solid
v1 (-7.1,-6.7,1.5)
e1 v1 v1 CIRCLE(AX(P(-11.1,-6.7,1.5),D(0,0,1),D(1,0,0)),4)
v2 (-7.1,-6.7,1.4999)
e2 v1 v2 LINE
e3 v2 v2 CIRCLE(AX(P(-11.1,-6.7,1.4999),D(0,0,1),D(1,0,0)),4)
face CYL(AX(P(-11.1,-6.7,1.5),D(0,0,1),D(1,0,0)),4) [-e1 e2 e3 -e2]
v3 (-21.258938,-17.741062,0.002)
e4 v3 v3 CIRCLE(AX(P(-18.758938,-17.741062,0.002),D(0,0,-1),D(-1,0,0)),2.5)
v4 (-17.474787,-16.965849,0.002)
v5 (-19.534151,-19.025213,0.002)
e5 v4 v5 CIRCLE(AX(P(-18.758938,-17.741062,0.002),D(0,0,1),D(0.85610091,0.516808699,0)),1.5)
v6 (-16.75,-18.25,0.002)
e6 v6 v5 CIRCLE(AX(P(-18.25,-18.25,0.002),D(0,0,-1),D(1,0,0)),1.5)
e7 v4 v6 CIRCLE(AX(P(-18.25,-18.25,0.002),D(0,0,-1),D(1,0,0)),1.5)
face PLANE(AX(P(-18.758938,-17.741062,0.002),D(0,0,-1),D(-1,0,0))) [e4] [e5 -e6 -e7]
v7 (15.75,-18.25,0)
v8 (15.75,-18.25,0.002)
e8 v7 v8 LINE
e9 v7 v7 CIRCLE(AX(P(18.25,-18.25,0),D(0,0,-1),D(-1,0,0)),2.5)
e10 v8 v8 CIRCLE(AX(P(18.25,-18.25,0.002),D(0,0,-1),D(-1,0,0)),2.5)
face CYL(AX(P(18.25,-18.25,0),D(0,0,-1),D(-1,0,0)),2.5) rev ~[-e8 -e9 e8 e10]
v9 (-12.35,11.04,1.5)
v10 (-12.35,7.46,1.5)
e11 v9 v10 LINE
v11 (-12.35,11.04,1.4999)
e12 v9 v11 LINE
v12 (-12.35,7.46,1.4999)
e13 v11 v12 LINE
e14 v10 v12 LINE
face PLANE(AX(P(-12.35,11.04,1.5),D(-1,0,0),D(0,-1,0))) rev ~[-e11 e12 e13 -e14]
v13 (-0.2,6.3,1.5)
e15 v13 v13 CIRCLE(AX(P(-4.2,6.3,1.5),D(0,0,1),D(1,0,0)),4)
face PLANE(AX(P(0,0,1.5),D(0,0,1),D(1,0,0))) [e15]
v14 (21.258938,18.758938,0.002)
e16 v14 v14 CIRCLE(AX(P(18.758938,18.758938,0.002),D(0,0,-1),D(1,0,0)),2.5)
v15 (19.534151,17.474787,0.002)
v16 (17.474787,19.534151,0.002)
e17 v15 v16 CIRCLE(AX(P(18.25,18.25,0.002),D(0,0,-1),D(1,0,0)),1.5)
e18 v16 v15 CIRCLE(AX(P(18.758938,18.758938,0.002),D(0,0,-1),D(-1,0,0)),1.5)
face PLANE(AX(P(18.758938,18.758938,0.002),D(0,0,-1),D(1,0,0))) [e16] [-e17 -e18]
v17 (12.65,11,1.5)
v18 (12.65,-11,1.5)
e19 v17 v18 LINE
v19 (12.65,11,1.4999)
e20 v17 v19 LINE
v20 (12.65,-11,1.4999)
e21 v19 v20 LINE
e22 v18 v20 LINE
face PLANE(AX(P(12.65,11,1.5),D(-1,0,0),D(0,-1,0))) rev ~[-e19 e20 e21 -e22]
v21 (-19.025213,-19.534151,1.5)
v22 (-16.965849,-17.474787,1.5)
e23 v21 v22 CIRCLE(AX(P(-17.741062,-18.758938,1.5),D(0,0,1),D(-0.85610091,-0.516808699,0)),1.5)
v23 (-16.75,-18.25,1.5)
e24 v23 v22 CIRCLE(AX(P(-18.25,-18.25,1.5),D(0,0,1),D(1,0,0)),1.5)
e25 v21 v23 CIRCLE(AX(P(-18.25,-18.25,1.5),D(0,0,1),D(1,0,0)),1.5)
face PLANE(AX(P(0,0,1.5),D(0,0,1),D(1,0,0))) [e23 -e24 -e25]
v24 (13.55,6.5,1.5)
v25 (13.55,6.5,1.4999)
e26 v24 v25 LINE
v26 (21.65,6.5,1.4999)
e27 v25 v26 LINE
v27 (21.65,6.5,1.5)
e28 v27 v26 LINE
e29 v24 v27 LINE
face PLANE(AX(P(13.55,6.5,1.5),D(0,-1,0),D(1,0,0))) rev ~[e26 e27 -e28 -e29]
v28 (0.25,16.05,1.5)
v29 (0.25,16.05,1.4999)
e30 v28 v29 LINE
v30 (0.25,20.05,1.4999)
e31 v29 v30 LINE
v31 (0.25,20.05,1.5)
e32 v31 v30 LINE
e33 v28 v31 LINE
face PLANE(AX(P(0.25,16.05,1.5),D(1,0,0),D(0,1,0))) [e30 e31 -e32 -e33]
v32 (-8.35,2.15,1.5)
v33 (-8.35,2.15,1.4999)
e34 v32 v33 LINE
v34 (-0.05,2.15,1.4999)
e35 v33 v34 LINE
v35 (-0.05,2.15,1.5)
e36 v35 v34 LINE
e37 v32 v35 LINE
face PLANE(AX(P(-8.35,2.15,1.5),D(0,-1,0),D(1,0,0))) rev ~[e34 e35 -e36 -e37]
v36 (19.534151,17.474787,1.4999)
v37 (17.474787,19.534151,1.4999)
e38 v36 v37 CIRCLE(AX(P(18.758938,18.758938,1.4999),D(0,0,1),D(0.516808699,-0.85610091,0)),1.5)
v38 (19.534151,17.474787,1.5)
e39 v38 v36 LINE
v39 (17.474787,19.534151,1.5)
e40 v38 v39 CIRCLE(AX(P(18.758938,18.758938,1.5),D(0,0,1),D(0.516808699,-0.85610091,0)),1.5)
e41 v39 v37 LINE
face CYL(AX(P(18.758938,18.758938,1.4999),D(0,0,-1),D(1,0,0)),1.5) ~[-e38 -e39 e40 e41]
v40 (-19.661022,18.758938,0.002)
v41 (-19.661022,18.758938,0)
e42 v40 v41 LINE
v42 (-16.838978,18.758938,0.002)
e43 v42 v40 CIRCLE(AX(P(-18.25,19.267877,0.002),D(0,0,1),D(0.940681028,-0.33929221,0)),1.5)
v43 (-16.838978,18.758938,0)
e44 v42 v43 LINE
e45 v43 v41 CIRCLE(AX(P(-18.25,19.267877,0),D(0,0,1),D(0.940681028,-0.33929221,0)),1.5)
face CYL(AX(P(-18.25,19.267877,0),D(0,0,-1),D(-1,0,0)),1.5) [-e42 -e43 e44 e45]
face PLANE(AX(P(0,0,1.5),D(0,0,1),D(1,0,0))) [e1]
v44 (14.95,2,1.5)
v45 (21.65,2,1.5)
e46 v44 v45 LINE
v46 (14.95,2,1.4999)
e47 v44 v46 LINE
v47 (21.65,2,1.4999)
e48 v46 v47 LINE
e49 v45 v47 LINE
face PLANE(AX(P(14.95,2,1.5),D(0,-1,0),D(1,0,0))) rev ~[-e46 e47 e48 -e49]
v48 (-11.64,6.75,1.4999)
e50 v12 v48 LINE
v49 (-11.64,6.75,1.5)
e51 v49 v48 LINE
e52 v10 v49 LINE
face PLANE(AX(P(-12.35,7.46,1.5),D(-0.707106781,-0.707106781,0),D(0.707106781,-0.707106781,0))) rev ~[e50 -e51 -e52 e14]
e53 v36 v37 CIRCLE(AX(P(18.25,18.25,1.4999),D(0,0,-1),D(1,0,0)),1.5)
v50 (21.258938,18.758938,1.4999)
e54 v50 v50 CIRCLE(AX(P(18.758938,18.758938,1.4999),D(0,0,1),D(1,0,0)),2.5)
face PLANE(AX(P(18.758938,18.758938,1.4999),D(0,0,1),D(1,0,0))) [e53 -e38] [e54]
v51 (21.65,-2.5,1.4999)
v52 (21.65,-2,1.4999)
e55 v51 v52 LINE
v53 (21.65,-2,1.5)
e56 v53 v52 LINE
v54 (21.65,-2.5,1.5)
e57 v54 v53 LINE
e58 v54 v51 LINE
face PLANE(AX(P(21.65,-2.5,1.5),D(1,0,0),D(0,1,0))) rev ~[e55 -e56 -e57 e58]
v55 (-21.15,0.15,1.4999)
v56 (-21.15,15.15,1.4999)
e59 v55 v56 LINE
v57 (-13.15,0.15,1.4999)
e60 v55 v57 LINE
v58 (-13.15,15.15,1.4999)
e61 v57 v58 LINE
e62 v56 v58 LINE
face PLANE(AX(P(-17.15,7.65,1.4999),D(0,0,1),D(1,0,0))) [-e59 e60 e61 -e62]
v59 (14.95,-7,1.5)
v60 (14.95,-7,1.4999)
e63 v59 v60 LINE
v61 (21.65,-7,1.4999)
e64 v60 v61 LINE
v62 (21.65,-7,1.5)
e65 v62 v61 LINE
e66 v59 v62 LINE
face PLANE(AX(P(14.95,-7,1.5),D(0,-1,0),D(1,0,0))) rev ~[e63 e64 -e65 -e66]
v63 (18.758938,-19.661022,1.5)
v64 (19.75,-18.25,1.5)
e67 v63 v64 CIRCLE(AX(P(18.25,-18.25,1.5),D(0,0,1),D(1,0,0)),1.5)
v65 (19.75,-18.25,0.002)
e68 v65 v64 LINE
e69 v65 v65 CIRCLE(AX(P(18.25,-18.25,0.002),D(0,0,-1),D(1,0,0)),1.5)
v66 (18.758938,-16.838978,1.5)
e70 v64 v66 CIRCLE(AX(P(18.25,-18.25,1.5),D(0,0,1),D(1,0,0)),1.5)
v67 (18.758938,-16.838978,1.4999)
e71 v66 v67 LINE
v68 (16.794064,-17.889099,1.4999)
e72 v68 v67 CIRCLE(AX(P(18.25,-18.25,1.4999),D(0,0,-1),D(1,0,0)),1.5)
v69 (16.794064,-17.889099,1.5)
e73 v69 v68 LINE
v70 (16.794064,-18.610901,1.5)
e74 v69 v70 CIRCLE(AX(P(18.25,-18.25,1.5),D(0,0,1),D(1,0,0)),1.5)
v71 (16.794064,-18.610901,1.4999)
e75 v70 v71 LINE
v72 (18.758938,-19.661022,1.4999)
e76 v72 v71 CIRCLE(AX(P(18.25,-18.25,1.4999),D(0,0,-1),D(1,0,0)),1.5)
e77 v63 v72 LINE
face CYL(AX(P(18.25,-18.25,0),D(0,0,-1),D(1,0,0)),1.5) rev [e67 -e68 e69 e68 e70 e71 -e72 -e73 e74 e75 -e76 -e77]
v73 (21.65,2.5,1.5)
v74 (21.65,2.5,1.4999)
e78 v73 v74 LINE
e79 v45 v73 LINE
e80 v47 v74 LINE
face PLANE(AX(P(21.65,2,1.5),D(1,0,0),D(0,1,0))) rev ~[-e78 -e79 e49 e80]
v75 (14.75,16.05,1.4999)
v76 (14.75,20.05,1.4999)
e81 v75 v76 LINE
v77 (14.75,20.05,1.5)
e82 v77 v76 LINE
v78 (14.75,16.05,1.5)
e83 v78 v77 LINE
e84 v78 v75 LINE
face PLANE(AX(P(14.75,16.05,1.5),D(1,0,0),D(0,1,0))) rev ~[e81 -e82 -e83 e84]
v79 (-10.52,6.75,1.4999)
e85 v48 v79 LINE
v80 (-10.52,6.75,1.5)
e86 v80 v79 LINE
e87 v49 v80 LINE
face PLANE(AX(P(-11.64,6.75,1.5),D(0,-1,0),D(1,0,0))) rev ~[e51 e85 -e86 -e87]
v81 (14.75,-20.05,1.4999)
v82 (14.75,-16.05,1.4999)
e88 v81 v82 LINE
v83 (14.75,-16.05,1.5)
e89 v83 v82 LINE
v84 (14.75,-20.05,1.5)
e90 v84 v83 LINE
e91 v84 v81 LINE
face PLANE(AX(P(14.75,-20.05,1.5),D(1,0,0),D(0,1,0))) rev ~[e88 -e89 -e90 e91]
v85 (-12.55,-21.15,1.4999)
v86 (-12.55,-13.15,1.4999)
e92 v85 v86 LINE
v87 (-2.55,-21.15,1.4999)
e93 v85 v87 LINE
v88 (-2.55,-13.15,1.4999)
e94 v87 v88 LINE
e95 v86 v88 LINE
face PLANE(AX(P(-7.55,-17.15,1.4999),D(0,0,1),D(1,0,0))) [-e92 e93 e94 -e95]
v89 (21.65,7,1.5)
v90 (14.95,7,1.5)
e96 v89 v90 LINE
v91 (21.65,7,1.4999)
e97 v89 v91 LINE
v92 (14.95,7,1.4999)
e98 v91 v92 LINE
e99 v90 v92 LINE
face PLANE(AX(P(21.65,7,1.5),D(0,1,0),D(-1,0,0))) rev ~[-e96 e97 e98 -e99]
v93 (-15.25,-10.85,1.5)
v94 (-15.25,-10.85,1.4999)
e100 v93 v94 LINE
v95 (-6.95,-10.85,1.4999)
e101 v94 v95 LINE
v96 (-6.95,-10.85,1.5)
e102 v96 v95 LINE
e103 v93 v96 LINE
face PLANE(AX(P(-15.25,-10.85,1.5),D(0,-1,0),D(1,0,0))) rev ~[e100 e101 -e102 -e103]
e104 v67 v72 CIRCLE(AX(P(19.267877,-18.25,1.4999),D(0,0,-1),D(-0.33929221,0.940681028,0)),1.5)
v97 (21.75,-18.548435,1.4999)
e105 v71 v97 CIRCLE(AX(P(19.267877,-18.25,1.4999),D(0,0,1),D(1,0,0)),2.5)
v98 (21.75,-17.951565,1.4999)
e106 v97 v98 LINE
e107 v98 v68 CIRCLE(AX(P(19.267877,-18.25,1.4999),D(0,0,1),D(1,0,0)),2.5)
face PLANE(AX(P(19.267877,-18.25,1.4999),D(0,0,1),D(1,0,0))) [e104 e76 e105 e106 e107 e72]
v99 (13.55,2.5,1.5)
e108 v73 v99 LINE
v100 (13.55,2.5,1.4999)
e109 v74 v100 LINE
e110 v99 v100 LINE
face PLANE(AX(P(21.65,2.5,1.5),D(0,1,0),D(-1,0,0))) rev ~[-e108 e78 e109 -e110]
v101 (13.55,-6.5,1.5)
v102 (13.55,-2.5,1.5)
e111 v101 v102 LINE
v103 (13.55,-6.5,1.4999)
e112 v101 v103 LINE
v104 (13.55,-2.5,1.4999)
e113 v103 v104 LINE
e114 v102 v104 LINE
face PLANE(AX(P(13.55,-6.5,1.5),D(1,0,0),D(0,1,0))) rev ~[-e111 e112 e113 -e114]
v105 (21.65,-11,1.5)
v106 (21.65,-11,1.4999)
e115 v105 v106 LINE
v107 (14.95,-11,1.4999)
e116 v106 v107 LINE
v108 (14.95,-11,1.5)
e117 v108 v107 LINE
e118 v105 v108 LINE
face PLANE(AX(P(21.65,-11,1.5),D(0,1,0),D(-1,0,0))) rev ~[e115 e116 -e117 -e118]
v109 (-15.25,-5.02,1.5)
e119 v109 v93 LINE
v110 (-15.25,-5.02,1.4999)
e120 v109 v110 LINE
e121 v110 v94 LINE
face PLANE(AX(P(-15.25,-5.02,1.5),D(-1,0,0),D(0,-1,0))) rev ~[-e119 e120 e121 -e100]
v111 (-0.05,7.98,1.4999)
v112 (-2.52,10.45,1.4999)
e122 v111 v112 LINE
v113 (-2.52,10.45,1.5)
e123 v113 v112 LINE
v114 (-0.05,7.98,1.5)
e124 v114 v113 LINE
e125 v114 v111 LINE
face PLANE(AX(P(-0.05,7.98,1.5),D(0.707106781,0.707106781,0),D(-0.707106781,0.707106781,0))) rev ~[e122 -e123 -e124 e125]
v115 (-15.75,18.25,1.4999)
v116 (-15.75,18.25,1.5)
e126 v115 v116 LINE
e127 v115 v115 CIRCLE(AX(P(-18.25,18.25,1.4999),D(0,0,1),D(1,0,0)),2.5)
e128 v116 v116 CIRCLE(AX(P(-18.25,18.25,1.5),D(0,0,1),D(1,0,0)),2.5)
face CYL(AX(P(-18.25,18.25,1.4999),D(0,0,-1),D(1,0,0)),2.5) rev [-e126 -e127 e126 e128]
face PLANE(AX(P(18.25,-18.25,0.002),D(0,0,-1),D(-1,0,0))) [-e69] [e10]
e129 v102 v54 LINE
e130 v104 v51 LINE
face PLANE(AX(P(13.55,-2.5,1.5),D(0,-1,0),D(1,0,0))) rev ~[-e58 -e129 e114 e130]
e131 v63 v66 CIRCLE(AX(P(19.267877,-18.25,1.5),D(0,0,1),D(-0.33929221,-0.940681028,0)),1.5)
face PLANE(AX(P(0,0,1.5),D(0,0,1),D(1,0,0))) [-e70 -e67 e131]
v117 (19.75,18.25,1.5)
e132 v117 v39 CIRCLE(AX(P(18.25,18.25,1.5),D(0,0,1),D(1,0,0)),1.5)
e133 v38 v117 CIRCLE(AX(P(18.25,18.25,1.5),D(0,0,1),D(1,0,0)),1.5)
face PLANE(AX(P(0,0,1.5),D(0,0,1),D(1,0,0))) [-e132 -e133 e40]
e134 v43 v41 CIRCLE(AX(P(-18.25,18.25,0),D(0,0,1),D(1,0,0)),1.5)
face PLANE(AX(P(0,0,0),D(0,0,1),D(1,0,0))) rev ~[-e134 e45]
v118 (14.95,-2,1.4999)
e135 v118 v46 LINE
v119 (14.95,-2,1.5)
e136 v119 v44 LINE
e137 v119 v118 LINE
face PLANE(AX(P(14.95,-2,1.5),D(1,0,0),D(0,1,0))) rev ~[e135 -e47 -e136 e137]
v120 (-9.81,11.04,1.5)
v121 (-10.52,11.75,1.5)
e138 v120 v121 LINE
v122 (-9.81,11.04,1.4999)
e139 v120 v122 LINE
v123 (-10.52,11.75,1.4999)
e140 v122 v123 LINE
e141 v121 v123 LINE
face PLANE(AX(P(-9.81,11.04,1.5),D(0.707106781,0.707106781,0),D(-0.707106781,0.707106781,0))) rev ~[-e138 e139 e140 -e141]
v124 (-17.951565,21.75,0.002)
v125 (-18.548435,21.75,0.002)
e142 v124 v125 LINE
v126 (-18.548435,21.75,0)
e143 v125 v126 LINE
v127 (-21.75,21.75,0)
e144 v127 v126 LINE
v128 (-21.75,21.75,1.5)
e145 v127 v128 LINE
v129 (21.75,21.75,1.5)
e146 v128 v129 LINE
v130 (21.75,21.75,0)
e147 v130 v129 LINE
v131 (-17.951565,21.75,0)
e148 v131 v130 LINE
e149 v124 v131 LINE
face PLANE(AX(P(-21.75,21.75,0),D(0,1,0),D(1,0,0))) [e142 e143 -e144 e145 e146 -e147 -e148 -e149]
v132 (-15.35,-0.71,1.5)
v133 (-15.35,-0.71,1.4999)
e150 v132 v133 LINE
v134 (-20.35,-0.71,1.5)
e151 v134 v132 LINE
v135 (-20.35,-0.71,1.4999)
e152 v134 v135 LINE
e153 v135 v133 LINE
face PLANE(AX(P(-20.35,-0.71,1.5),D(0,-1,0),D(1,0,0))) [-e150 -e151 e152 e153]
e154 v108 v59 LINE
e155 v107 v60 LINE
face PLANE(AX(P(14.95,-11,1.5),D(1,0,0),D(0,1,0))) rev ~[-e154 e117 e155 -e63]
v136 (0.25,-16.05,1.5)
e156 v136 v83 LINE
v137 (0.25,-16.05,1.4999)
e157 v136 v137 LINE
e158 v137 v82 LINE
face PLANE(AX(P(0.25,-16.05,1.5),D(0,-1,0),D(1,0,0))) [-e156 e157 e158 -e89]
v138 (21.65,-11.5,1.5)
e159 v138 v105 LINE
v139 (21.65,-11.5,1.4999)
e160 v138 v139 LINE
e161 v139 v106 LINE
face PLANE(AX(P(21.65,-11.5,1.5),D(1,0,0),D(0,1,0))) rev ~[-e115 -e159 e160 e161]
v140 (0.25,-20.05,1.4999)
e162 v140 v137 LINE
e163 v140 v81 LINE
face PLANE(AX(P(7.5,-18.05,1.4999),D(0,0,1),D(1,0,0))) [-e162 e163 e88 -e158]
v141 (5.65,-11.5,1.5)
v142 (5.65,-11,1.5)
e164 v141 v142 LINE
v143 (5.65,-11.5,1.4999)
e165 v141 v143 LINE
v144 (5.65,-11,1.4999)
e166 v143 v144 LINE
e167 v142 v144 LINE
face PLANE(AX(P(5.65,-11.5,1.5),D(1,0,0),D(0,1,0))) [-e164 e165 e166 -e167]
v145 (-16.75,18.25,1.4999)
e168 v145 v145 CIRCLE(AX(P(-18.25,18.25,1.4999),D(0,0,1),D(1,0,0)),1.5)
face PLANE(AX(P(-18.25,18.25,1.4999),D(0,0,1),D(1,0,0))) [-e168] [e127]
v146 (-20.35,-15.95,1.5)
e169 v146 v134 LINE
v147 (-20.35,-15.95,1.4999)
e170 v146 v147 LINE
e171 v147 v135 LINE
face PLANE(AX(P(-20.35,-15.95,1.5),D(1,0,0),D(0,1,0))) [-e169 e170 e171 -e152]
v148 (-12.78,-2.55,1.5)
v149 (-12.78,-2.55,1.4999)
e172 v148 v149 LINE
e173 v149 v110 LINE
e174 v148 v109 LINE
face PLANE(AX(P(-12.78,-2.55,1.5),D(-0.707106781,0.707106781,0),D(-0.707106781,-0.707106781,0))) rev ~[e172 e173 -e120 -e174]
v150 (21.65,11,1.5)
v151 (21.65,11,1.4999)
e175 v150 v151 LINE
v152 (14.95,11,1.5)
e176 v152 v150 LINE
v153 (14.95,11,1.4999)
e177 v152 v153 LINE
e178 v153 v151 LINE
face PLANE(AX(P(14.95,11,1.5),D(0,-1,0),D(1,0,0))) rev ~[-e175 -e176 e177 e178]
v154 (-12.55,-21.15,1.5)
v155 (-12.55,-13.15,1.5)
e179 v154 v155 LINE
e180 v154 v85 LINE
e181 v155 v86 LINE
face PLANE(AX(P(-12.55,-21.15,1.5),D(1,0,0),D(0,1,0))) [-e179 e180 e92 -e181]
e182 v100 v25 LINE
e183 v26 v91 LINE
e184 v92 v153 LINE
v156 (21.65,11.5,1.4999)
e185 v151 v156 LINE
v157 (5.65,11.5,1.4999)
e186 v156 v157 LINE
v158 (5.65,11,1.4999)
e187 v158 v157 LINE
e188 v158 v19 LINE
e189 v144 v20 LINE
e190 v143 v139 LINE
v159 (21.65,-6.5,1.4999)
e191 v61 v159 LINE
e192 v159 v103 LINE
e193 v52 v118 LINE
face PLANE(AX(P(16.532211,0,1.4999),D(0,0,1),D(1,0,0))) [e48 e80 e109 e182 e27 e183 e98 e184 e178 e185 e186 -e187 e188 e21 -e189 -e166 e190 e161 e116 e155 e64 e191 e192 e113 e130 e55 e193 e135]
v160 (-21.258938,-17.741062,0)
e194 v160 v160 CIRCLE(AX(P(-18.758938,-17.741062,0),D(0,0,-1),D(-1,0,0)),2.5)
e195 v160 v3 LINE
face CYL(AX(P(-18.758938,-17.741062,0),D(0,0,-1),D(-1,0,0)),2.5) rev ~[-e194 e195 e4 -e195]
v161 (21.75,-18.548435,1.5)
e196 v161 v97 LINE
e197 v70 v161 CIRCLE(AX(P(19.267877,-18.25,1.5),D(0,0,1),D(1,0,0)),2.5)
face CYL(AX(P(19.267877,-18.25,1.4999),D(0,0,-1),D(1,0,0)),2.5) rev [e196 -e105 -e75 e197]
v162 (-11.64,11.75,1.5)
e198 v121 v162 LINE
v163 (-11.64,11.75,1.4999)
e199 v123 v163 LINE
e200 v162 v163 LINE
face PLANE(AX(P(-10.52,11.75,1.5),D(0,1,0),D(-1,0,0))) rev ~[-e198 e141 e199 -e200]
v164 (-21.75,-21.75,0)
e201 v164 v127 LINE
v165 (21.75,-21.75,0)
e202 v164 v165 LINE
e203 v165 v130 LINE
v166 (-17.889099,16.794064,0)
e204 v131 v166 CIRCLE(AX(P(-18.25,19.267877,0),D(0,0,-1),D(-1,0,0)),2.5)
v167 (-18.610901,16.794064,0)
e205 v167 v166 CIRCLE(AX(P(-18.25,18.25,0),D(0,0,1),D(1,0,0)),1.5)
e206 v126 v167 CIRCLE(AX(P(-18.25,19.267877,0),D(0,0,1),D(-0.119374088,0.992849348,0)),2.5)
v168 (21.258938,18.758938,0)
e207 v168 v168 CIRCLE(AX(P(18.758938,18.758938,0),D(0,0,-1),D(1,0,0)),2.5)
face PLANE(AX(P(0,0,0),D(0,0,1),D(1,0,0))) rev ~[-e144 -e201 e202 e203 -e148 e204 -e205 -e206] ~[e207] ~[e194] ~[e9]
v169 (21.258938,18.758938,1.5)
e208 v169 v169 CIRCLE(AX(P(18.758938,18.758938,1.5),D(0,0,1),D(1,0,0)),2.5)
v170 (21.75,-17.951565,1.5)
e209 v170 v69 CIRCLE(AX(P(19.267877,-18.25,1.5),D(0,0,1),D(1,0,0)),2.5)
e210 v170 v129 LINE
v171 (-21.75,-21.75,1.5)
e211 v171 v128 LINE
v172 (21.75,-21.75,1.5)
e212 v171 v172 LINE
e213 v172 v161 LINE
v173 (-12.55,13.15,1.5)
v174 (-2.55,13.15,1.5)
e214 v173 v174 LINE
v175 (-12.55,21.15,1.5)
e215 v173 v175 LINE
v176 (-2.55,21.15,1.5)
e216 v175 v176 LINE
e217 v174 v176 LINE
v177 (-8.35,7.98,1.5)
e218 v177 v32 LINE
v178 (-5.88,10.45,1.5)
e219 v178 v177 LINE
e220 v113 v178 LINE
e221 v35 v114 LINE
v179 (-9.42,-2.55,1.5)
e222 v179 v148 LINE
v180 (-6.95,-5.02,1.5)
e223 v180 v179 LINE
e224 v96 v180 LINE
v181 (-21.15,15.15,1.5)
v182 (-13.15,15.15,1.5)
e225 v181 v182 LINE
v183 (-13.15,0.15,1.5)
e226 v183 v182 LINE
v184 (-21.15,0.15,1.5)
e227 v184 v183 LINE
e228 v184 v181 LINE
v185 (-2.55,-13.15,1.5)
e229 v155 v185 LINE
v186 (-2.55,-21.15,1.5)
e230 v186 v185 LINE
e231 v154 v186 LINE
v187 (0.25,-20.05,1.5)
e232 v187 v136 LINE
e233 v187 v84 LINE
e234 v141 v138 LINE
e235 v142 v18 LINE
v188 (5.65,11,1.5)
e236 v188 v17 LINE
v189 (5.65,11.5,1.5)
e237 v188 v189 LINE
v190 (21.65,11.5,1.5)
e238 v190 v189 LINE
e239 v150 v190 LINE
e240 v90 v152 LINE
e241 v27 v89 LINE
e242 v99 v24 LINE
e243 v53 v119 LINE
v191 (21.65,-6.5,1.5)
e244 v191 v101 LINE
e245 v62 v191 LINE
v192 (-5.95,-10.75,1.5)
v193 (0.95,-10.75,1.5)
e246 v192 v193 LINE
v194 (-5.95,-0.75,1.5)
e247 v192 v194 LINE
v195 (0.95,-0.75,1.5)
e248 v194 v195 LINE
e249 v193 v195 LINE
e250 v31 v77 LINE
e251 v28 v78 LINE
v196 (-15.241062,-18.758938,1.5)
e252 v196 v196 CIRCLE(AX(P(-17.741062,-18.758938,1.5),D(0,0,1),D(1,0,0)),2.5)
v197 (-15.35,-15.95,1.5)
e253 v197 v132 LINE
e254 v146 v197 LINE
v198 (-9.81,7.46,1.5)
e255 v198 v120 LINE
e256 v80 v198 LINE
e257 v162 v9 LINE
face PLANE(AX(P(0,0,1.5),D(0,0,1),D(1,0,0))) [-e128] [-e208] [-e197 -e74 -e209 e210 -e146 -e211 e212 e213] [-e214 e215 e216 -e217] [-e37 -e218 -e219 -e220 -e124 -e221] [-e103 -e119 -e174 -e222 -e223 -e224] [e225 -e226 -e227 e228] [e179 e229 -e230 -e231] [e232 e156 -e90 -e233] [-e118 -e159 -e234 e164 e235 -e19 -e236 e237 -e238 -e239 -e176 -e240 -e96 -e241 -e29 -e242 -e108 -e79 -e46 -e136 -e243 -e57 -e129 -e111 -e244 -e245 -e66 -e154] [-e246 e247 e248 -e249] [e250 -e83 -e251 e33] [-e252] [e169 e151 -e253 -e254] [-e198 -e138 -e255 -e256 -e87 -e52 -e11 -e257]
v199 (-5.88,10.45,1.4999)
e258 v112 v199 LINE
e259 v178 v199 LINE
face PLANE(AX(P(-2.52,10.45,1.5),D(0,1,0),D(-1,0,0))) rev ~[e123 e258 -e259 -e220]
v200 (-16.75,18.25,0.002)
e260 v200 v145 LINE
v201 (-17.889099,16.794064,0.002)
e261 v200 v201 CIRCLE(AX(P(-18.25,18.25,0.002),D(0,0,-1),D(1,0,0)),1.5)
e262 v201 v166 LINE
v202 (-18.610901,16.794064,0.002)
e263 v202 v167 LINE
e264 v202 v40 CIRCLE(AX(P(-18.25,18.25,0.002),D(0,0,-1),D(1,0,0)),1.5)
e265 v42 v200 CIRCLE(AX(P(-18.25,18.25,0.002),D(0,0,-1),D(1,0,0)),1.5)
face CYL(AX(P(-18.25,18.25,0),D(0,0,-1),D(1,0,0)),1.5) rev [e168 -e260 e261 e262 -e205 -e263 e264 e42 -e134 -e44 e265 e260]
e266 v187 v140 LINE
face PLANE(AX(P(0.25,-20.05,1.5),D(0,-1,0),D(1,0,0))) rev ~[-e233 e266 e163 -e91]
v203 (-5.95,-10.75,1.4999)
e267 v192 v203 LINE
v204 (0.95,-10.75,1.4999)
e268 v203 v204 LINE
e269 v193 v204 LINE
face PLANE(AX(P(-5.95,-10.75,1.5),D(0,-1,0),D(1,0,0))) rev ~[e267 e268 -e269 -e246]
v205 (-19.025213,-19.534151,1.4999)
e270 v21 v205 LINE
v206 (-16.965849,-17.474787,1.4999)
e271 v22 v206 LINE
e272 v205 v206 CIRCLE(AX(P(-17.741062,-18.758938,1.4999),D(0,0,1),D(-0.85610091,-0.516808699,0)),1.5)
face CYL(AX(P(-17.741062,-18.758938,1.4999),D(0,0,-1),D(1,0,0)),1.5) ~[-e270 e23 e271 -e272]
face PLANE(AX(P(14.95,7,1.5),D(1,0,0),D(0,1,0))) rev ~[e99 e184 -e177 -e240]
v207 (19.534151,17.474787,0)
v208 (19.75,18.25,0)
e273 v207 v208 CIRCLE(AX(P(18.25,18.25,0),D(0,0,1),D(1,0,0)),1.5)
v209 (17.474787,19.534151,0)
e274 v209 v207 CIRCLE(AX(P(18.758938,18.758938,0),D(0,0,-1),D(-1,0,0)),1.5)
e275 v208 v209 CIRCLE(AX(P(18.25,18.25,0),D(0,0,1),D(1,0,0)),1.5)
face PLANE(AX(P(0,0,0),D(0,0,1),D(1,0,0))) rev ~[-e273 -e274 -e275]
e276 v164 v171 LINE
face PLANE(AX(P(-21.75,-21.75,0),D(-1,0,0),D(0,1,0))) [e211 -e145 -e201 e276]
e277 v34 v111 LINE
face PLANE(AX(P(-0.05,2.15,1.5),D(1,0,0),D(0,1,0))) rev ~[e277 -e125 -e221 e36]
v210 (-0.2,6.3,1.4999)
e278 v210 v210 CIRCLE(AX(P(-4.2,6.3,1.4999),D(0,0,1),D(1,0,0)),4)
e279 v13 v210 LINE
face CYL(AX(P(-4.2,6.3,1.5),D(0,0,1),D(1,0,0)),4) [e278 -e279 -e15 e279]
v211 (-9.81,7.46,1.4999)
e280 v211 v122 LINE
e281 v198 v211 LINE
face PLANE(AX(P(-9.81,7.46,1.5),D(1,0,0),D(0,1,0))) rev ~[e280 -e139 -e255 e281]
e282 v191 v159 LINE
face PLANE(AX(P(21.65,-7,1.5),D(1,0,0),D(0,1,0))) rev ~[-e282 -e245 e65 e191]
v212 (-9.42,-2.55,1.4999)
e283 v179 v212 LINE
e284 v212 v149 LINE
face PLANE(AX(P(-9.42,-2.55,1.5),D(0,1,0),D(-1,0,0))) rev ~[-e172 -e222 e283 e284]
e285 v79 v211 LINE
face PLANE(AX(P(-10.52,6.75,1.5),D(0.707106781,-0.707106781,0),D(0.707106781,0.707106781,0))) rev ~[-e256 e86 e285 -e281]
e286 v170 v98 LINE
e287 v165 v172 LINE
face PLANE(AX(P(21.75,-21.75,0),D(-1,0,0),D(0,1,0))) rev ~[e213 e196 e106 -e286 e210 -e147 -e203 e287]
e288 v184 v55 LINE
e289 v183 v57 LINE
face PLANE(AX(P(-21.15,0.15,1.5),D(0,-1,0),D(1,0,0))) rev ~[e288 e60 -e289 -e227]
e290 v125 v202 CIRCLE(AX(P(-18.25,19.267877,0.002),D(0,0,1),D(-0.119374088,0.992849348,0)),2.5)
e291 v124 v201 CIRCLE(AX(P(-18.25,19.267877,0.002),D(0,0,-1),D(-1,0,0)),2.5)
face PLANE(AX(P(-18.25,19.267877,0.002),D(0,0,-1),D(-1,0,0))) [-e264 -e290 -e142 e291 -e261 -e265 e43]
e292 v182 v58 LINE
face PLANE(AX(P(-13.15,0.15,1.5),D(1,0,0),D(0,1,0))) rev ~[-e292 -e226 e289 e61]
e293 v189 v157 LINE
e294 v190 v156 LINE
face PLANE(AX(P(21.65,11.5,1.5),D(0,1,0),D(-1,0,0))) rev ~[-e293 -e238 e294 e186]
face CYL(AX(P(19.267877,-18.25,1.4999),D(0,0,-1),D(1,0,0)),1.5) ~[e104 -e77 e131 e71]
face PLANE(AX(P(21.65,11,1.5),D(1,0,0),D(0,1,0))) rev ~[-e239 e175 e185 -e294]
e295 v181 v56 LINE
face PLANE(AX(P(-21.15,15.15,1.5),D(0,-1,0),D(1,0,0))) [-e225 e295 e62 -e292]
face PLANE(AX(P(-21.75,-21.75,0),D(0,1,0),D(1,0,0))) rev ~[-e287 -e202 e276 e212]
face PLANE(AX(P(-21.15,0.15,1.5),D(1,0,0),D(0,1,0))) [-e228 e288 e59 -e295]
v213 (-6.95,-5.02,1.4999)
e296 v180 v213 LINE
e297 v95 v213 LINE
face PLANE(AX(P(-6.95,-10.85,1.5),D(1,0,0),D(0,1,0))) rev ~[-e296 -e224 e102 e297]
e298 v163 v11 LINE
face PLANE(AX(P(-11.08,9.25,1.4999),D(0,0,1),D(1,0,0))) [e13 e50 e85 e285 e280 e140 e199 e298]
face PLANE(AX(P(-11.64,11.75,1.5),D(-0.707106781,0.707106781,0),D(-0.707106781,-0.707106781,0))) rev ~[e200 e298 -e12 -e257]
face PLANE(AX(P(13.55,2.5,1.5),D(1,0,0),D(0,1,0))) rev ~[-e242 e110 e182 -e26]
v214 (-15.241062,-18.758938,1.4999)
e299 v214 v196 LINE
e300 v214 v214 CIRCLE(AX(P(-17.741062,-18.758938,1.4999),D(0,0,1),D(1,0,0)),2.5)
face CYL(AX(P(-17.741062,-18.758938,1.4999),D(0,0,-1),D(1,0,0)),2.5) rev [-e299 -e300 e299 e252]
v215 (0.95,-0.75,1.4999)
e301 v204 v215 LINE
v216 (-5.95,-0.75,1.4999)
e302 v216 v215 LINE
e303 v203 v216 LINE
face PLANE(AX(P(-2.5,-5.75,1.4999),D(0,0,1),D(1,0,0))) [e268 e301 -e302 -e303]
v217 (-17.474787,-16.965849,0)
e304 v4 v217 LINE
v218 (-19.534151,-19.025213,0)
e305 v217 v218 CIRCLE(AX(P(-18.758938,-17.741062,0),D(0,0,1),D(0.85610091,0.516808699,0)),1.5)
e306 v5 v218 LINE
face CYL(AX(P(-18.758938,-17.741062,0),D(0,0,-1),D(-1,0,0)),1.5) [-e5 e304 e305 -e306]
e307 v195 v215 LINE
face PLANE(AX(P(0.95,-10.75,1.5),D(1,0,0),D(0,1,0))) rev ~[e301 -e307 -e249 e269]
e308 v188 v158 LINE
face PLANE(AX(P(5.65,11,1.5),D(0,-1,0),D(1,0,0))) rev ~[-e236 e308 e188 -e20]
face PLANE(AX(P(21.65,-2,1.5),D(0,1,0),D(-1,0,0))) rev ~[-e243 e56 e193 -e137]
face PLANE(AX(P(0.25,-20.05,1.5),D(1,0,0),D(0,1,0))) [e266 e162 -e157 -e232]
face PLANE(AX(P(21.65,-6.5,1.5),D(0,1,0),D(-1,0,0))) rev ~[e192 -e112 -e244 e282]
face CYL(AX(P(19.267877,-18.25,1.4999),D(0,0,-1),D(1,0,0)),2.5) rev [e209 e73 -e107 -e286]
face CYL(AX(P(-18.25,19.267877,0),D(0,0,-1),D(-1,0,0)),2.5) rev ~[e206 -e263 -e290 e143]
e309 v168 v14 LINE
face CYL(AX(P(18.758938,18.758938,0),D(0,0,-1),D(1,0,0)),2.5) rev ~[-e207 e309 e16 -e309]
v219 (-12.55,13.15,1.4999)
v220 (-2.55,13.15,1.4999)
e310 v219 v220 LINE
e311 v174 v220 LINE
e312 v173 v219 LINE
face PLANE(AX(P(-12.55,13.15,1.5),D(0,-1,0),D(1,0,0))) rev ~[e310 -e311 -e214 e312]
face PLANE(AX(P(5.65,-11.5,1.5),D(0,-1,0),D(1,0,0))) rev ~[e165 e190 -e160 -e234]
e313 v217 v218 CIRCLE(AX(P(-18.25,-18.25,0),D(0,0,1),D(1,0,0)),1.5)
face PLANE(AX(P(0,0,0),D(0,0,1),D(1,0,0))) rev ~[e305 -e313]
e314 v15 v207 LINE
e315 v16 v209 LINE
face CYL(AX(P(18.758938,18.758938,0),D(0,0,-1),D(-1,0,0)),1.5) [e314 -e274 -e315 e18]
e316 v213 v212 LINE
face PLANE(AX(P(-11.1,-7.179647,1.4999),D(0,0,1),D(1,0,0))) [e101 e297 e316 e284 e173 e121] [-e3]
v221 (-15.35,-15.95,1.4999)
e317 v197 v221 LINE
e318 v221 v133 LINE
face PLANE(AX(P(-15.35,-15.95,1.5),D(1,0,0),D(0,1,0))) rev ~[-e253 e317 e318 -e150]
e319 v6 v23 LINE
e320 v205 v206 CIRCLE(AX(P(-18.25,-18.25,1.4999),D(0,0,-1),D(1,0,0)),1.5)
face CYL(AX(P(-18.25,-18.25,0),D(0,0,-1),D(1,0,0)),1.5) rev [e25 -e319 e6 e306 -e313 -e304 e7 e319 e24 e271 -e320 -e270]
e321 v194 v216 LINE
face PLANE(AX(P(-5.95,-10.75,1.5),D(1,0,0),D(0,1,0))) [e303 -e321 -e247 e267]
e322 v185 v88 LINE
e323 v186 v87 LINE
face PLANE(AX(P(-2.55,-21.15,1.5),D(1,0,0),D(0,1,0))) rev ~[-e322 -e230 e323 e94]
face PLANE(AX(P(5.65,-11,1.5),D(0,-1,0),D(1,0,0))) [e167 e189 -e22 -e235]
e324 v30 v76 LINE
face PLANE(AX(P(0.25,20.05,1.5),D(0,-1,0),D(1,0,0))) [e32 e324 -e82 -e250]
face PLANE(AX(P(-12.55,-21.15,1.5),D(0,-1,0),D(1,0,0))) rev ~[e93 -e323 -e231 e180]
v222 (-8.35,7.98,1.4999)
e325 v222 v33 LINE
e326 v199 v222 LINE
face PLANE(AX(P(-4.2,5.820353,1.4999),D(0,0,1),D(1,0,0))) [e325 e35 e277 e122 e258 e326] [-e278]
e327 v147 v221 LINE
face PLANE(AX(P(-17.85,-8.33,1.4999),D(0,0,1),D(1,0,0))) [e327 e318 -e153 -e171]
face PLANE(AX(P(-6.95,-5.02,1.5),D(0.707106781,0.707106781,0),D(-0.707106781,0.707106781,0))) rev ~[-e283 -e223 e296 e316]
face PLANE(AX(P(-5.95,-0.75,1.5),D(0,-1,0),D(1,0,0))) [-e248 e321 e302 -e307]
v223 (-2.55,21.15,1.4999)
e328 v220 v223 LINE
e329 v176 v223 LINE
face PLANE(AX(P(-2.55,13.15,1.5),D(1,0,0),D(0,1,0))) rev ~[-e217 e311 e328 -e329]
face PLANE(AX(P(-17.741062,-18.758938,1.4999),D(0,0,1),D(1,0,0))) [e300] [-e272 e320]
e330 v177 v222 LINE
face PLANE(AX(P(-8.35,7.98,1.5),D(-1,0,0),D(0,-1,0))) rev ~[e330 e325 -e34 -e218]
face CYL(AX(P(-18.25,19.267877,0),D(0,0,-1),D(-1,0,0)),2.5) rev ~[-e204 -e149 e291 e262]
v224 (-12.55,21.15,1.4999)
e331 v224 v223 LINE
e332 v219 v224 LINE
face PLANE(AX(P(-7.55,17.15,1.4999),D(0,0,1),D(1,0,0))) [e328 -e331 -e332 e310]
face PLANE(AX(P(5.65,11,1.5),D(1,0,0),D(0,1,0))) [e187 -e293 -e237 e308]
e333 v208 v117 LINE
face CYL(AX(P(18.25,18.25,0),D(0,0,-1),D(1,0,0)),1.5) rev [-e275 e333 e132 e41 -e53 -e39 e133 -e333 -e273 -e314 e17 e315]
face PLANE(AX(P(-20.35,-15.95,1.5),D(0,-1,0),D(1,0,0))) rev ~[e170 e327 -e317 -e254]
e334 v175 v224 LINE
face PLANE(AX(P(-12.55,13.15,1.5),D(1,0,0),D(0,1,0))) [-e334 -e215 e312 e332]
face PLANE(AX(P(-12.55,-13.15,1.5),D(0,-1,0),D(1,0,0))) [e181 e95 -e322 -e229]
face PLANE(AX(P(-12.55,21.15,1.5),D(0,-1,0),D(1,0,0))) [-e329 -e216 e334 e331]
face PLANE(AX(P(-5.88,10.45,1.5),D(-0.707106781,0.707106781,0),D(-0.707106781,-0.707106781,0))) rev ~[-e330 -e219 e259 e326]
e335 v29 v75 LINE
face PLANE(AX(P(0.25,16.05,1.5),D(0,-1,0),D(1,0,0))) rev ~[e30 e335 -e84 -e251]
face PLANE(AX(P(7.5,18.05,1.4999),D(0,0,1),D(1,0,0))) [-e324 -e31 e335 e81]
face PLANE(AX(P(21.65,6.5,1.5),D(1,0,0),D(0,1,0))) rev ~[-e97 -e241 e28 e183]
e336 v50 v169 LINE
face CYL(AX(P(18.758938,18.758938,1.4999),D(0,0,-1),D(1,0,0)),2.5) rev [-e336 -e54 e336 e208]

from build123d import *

# Parameters (mm, degrees)
SKETCH1_W           = 43.5
SKETCH1_H           = 43.5
SKETCH1_R           = 1.5
BOSS_EXTRUDE1_DEPTH = 1.5
CUT_EXTRUDE1_START  = -0.0001
SKETCH2_R           = 2.5
SKETCH2_R_2         = 1.5
CUT_EXTRUDE1_DEPTH  = 0.0001
SKETCH3_R           = 2.5
SKETCH3_R_2         = 1.5
CUT_EXTRUDE2_DEPTH  = 0.002
SKETCH4_W           = 7
SKETCH4_H           = 0.5
CUT_EXTRUDE4_DEPTH  = 0.0001
SKETCH6_W           = 8
SKETCH6_H           = 15
SKETCH6_W_2         = 10
SKETCH6_H_2         = 8
CUT_EXTRUDE5_DEPTH  = 0.0001
SKETCH8_R           = 4
CUT_EXTRUDE6_DEPTH  = 0.0001
SKETCH9_W           = 14.5
SKETCH9_H           = 4
CUT_EXTRUDE7_DEPTH  = 0.0001
SKETCH10_W          = 5
SKETCH10_H          = 15.24
CUT_EXTRUDE8_DEPTH  = 0.0001
SKETCH11_R          = 4
SKETCH11_W          = 14.5
SKETCH11_H          = 4
CUT_EXTRUDE9_DEPTH  = 0.0001
CUT_EXTRUDE10_DEPTH = 0.0001
SKETCH13_W          = 6.9
SKETCH13_H          = 10
CUT_EXTRUDE11_DEPTH = 0.0001


with BuildPart() as part:
    # Sketch1 → Boss-Extrude1 (new body)
    with BuildSketch(Plane.XY):
        Rectangle(SKETCH1_W, SKETCH1_H)
        with Locations((-18.25, 18.25)):
            Circle(SKETCH1_R, mode=Mode.SUBTRACT)
        with Locations((18.25, 18.25)):
            Circle(SKETCH1_R, mode=Mode.SUBTRACT)
        with Locations((18.25, -18.25)):
            Circle(SKETCH1_R, mode=Mode.SUBTRACT)
        with Locations((-18.25, -18.25)):
            Circle(SKETCH1_R, mode=Mode.SUBTRACT)
    extrude(amount=BOSS_EXTRUDE1_DEPTH)

    # Sketch2 → Cut-Extrude1 (cut)
    # profile 1 of 4: a face of its own
    with BuildSketch(Plane.XY.offset(1.5).offset(CUT_EXTRUDE1_START)):
        with Locations((-18.25, 18.25)):
            Circle(SKETCH2_R)
        with Locations((-18.25, 18.25)):
            Circle(SKETCH2_R_2, mode=Mode.SUBTRACT)
    # profile 2 of 4: a face of its own
    with BuildSketch(Plane.XY.offset(1.5).offset(CUT_EXTRUDE1_START)):
        with Locations((18.758938316, 18.758938316)):
            Circle(SKETCH2_R)
        with Locations((18.758938316, 18.758938316)):
            Circle(SKETCH2_R_2, mode=Mode.SUBTRACT)
    # profile 3 of 4: a face of its own
    with BuildSketch(Plane.XY.offset(1.5).offset(CUT_EXTRUDE1_START)):
        with Locations((19.267876631, -18.25)):
            Circle(SKETCH2_R)
        with Locations((19.267876631, -18.25)):
            Circle(SKETCH2_R_2, mode=Mode.SUBTRACT)
    # profile 4 of 4: a face of its own
    with BuildSketch(Plane.XY.offset(1.5).offset(CUT_EXTRUDE1_START)):
        with Locations((-17.741061684, -18.758938316)):
            Circle(SKETCH2_R)
        with Locations((-17.741061684, -18.758938316)):
            Circle(SKETCH2_R_2, mode=Mode.SUBTRACT)
    extrude(amount=CUT_EXTRUDE1_DEPTH, mode=Mode.SUBTRACT)

    # Sketch3 → Cut-Extrude2 (cut)
    # profile 1 of 4: a face of its own
    with BuildSketch(Plane(origin=(0, 0, 0), x_dir=(-1, 0, 0), z_dir=(0, 0, -1))):
        with Locations((-18.25, -18.25)):
            Circle(SKETCH3_R)
        with Locations((-18.25, -18.25)):
            Circle(SKETCH3_R_2, mode=Mode.SUBTRACT)
    # profile 2 of 4: a face of its own
    with BuildSketch(Plane(origin=(0, 0, 0), x_dir=(-1, 0, 0), z_dir=(0, 0, -1))):
        with Locations(Location((-18.758938316, 18.758938316, 0), (0, 0, 180))):
            Circle(SKETCH3_R)
        with Locations((-18.758938316, 18.758938316)):
            Circle(SKETCH3_R_2, mode=Mode.SUBTRACT)
    # profile 3 of 4: a face of its own
    with BuildSketch(Plane(origin=(0, 0, 0), x_dir=(-1, 0, 0), z_dir=(0, 0, -1))):
        with Locations((18.25, 19.267876631)):
            Circle(SKETCH3_R)
        with Locations((18.25, 19.267876631)):
            Circle(SKETCH3_R_2, mode=Mode.SUBTRACT)
    # profile 4 of 4: a face of its own
    with BuildSketch(Plane(origin=(0, 0, 0), x_dir=(-1, 0, 0), z_dir=(0, 0, -1))):
        with Locations((18.758938316, -17.741061684)):
            Circle(SKETCH3_R)
        with Locations((18.758938316, -17.741061684)):
            Circle(SKETCH3_R_2, mode=Mode.SUBTRACT)
    extrude(amount=-CUT_EXTRUDE2_DEPTH, mode=Mode.SUBTRACT)

    # Sketch4 → Cut-Extrude4 (cut)
    with BuildSketch(Plane.XY.offset(1.5)):
        Polygon((14.95, 11), (21.65, 11), (21.65, 11.5), (12.65, 11.5), (12.65, 11), (12.65, -11), (12.65, -11.5), (21.65, -11.5), (21.65, -11), (14.95, -11), (14.95, -7), (21.65, -7), (21.65, -6.5), (13.55, -6.5), (13.55, -2.5), (21.65, -2.5), (21.65, -2), (14.95, -2), (14.95, 2), (21.65, 2), (21.65, 2.5), (13.55, 2.5), (13.55, 6.5), (21.65, 6.5), (21.65, 7), (14.95, 7), align=None)
        with Locations((9.15, 11.25)):
            Rectangle(SKETCH4_W, SKETCH4_H)
        with Locations((9.15, -11.25)):
            Rectangle(SKETCH4_W, SKETCH4_H)
    extrude(amount=-CUT_EXTRUDE4_DEPTH, mode=Mode.SUBTRACT)

    # Sketch6 → Cut-Extrude5 (cut)
    with BuildSketch(Plane.XY.offset(1.5)):
        with Locations((-17.15, 7.65)):
            Rectangle(SKETCH6_W, SKETCH6_H)
        with Locations((-7.55, 17.15)):
            Rectangle(SKETCH6_W_2, SKETCH6_H_2)
        with Locations((-7.55, -17.15)):
            Rectangle(SKETCH6_W_2, SKETCH6_H_2)
    extrude(amount=-CUT_EXTRUDE5_DEPTH, mode=Mode.SUBTRACT)

    # Sketch8 → Cut-Extrude6 (cut)
    with BuildSketch(Plane.XY.offset(1.5)):
        Polygon((-0.05, 7.98), (-2.52, 10.45), (-5.88, 10.45), (-8.35, 7.98), (-8.35, 2.15), (-0.05, 2.15), align=None)
        with Locations((-4.2, 6.3)):
            Circle(SKETCH8_R, mode=Mode.SUBTRACT)
    extrude(amount=-CUT_EXTRUDE6_DEPTH, mode=Mode.SUBTRACT)

    # Sketch9 → Cut-Extrude7 (cut)
    with BuildSketch(Plane.XY.offset(1.5)):
        with Locations((7.5, 18.05)):
            Rectangle(SKETCH9_W, SKETCH9_H)
    extrude(amount=-CUT_EXTRUDE7_DEPTH, mode=Mode.SUBTRACT)

    # Sketch10 → Cut-Extrude8 (cut)
    with BuildSketch(Plane.XY.offset(1.5)):
        with Locations((-17.85, -8.33)):
            Rectangle(SKETCH10_W, SKETCH10_H)
    extrude(amount=-CUT_EXTRUDE8_DEPTH, mode=Mode.SUBTRACT)

    # Sketch11 → Cut-Extrude9 (cut)
    # profile 1 of 2: a face of its own
    with BuildSketch(Plane.XY.offset(1.5)):
        Polygon((-9.42, -2.55), (-12.78, -2.55), (-15.25, -5.02), (-15.25, -10.85), (-6.95, -10.85), (-6.95, -5.02), align=None)
        with Locations((-11.1, -6.7)):
            Circle(SKETCH11_R, mode=Mode.SUBTRACT)
    # profile 2 of 2: a face of its own
    with BuildSketch(Plane.XY.offset(1.5)):
        with Locations((7.5, -18.05)):
            Rectangle(SKETCH11_W, SKETCH11_H)
    extrude(amount=-CUT_EXTRUDE9_DEPTH, mode=Mode.SUBTRACT)

    # Sketch12 → Cut-Extrude10 (cut)
    with BuildSketch(Plane.XY.offset(1.5)):
        Polygon((-9.81, 11.04), (-10.52, 11.75), (-11.64, 11.75), (-12.35, 11.04), (-12.35, 7.46), (-11.64, 6.75), (-10.52, 6.75), (-9.81, 7.46), align=None)
    extrude(amount=-CUT_EXTRUDE10_DEPTH, mode=Mode.SUBTRACT)

    # Sketch13 → Cut-Extrude11 (cut)
    with BuildSketch(Plane.XY.offset(1.5)):
        with Locations((-2.5, -5.75)):
            Rectangle(SKETCH13_W, SKETCH13_H)
    extrude(amount=-CUT_EXTRUDE11_DEPTH, mode=Mode.SUBTRACT)


solid = part.part
